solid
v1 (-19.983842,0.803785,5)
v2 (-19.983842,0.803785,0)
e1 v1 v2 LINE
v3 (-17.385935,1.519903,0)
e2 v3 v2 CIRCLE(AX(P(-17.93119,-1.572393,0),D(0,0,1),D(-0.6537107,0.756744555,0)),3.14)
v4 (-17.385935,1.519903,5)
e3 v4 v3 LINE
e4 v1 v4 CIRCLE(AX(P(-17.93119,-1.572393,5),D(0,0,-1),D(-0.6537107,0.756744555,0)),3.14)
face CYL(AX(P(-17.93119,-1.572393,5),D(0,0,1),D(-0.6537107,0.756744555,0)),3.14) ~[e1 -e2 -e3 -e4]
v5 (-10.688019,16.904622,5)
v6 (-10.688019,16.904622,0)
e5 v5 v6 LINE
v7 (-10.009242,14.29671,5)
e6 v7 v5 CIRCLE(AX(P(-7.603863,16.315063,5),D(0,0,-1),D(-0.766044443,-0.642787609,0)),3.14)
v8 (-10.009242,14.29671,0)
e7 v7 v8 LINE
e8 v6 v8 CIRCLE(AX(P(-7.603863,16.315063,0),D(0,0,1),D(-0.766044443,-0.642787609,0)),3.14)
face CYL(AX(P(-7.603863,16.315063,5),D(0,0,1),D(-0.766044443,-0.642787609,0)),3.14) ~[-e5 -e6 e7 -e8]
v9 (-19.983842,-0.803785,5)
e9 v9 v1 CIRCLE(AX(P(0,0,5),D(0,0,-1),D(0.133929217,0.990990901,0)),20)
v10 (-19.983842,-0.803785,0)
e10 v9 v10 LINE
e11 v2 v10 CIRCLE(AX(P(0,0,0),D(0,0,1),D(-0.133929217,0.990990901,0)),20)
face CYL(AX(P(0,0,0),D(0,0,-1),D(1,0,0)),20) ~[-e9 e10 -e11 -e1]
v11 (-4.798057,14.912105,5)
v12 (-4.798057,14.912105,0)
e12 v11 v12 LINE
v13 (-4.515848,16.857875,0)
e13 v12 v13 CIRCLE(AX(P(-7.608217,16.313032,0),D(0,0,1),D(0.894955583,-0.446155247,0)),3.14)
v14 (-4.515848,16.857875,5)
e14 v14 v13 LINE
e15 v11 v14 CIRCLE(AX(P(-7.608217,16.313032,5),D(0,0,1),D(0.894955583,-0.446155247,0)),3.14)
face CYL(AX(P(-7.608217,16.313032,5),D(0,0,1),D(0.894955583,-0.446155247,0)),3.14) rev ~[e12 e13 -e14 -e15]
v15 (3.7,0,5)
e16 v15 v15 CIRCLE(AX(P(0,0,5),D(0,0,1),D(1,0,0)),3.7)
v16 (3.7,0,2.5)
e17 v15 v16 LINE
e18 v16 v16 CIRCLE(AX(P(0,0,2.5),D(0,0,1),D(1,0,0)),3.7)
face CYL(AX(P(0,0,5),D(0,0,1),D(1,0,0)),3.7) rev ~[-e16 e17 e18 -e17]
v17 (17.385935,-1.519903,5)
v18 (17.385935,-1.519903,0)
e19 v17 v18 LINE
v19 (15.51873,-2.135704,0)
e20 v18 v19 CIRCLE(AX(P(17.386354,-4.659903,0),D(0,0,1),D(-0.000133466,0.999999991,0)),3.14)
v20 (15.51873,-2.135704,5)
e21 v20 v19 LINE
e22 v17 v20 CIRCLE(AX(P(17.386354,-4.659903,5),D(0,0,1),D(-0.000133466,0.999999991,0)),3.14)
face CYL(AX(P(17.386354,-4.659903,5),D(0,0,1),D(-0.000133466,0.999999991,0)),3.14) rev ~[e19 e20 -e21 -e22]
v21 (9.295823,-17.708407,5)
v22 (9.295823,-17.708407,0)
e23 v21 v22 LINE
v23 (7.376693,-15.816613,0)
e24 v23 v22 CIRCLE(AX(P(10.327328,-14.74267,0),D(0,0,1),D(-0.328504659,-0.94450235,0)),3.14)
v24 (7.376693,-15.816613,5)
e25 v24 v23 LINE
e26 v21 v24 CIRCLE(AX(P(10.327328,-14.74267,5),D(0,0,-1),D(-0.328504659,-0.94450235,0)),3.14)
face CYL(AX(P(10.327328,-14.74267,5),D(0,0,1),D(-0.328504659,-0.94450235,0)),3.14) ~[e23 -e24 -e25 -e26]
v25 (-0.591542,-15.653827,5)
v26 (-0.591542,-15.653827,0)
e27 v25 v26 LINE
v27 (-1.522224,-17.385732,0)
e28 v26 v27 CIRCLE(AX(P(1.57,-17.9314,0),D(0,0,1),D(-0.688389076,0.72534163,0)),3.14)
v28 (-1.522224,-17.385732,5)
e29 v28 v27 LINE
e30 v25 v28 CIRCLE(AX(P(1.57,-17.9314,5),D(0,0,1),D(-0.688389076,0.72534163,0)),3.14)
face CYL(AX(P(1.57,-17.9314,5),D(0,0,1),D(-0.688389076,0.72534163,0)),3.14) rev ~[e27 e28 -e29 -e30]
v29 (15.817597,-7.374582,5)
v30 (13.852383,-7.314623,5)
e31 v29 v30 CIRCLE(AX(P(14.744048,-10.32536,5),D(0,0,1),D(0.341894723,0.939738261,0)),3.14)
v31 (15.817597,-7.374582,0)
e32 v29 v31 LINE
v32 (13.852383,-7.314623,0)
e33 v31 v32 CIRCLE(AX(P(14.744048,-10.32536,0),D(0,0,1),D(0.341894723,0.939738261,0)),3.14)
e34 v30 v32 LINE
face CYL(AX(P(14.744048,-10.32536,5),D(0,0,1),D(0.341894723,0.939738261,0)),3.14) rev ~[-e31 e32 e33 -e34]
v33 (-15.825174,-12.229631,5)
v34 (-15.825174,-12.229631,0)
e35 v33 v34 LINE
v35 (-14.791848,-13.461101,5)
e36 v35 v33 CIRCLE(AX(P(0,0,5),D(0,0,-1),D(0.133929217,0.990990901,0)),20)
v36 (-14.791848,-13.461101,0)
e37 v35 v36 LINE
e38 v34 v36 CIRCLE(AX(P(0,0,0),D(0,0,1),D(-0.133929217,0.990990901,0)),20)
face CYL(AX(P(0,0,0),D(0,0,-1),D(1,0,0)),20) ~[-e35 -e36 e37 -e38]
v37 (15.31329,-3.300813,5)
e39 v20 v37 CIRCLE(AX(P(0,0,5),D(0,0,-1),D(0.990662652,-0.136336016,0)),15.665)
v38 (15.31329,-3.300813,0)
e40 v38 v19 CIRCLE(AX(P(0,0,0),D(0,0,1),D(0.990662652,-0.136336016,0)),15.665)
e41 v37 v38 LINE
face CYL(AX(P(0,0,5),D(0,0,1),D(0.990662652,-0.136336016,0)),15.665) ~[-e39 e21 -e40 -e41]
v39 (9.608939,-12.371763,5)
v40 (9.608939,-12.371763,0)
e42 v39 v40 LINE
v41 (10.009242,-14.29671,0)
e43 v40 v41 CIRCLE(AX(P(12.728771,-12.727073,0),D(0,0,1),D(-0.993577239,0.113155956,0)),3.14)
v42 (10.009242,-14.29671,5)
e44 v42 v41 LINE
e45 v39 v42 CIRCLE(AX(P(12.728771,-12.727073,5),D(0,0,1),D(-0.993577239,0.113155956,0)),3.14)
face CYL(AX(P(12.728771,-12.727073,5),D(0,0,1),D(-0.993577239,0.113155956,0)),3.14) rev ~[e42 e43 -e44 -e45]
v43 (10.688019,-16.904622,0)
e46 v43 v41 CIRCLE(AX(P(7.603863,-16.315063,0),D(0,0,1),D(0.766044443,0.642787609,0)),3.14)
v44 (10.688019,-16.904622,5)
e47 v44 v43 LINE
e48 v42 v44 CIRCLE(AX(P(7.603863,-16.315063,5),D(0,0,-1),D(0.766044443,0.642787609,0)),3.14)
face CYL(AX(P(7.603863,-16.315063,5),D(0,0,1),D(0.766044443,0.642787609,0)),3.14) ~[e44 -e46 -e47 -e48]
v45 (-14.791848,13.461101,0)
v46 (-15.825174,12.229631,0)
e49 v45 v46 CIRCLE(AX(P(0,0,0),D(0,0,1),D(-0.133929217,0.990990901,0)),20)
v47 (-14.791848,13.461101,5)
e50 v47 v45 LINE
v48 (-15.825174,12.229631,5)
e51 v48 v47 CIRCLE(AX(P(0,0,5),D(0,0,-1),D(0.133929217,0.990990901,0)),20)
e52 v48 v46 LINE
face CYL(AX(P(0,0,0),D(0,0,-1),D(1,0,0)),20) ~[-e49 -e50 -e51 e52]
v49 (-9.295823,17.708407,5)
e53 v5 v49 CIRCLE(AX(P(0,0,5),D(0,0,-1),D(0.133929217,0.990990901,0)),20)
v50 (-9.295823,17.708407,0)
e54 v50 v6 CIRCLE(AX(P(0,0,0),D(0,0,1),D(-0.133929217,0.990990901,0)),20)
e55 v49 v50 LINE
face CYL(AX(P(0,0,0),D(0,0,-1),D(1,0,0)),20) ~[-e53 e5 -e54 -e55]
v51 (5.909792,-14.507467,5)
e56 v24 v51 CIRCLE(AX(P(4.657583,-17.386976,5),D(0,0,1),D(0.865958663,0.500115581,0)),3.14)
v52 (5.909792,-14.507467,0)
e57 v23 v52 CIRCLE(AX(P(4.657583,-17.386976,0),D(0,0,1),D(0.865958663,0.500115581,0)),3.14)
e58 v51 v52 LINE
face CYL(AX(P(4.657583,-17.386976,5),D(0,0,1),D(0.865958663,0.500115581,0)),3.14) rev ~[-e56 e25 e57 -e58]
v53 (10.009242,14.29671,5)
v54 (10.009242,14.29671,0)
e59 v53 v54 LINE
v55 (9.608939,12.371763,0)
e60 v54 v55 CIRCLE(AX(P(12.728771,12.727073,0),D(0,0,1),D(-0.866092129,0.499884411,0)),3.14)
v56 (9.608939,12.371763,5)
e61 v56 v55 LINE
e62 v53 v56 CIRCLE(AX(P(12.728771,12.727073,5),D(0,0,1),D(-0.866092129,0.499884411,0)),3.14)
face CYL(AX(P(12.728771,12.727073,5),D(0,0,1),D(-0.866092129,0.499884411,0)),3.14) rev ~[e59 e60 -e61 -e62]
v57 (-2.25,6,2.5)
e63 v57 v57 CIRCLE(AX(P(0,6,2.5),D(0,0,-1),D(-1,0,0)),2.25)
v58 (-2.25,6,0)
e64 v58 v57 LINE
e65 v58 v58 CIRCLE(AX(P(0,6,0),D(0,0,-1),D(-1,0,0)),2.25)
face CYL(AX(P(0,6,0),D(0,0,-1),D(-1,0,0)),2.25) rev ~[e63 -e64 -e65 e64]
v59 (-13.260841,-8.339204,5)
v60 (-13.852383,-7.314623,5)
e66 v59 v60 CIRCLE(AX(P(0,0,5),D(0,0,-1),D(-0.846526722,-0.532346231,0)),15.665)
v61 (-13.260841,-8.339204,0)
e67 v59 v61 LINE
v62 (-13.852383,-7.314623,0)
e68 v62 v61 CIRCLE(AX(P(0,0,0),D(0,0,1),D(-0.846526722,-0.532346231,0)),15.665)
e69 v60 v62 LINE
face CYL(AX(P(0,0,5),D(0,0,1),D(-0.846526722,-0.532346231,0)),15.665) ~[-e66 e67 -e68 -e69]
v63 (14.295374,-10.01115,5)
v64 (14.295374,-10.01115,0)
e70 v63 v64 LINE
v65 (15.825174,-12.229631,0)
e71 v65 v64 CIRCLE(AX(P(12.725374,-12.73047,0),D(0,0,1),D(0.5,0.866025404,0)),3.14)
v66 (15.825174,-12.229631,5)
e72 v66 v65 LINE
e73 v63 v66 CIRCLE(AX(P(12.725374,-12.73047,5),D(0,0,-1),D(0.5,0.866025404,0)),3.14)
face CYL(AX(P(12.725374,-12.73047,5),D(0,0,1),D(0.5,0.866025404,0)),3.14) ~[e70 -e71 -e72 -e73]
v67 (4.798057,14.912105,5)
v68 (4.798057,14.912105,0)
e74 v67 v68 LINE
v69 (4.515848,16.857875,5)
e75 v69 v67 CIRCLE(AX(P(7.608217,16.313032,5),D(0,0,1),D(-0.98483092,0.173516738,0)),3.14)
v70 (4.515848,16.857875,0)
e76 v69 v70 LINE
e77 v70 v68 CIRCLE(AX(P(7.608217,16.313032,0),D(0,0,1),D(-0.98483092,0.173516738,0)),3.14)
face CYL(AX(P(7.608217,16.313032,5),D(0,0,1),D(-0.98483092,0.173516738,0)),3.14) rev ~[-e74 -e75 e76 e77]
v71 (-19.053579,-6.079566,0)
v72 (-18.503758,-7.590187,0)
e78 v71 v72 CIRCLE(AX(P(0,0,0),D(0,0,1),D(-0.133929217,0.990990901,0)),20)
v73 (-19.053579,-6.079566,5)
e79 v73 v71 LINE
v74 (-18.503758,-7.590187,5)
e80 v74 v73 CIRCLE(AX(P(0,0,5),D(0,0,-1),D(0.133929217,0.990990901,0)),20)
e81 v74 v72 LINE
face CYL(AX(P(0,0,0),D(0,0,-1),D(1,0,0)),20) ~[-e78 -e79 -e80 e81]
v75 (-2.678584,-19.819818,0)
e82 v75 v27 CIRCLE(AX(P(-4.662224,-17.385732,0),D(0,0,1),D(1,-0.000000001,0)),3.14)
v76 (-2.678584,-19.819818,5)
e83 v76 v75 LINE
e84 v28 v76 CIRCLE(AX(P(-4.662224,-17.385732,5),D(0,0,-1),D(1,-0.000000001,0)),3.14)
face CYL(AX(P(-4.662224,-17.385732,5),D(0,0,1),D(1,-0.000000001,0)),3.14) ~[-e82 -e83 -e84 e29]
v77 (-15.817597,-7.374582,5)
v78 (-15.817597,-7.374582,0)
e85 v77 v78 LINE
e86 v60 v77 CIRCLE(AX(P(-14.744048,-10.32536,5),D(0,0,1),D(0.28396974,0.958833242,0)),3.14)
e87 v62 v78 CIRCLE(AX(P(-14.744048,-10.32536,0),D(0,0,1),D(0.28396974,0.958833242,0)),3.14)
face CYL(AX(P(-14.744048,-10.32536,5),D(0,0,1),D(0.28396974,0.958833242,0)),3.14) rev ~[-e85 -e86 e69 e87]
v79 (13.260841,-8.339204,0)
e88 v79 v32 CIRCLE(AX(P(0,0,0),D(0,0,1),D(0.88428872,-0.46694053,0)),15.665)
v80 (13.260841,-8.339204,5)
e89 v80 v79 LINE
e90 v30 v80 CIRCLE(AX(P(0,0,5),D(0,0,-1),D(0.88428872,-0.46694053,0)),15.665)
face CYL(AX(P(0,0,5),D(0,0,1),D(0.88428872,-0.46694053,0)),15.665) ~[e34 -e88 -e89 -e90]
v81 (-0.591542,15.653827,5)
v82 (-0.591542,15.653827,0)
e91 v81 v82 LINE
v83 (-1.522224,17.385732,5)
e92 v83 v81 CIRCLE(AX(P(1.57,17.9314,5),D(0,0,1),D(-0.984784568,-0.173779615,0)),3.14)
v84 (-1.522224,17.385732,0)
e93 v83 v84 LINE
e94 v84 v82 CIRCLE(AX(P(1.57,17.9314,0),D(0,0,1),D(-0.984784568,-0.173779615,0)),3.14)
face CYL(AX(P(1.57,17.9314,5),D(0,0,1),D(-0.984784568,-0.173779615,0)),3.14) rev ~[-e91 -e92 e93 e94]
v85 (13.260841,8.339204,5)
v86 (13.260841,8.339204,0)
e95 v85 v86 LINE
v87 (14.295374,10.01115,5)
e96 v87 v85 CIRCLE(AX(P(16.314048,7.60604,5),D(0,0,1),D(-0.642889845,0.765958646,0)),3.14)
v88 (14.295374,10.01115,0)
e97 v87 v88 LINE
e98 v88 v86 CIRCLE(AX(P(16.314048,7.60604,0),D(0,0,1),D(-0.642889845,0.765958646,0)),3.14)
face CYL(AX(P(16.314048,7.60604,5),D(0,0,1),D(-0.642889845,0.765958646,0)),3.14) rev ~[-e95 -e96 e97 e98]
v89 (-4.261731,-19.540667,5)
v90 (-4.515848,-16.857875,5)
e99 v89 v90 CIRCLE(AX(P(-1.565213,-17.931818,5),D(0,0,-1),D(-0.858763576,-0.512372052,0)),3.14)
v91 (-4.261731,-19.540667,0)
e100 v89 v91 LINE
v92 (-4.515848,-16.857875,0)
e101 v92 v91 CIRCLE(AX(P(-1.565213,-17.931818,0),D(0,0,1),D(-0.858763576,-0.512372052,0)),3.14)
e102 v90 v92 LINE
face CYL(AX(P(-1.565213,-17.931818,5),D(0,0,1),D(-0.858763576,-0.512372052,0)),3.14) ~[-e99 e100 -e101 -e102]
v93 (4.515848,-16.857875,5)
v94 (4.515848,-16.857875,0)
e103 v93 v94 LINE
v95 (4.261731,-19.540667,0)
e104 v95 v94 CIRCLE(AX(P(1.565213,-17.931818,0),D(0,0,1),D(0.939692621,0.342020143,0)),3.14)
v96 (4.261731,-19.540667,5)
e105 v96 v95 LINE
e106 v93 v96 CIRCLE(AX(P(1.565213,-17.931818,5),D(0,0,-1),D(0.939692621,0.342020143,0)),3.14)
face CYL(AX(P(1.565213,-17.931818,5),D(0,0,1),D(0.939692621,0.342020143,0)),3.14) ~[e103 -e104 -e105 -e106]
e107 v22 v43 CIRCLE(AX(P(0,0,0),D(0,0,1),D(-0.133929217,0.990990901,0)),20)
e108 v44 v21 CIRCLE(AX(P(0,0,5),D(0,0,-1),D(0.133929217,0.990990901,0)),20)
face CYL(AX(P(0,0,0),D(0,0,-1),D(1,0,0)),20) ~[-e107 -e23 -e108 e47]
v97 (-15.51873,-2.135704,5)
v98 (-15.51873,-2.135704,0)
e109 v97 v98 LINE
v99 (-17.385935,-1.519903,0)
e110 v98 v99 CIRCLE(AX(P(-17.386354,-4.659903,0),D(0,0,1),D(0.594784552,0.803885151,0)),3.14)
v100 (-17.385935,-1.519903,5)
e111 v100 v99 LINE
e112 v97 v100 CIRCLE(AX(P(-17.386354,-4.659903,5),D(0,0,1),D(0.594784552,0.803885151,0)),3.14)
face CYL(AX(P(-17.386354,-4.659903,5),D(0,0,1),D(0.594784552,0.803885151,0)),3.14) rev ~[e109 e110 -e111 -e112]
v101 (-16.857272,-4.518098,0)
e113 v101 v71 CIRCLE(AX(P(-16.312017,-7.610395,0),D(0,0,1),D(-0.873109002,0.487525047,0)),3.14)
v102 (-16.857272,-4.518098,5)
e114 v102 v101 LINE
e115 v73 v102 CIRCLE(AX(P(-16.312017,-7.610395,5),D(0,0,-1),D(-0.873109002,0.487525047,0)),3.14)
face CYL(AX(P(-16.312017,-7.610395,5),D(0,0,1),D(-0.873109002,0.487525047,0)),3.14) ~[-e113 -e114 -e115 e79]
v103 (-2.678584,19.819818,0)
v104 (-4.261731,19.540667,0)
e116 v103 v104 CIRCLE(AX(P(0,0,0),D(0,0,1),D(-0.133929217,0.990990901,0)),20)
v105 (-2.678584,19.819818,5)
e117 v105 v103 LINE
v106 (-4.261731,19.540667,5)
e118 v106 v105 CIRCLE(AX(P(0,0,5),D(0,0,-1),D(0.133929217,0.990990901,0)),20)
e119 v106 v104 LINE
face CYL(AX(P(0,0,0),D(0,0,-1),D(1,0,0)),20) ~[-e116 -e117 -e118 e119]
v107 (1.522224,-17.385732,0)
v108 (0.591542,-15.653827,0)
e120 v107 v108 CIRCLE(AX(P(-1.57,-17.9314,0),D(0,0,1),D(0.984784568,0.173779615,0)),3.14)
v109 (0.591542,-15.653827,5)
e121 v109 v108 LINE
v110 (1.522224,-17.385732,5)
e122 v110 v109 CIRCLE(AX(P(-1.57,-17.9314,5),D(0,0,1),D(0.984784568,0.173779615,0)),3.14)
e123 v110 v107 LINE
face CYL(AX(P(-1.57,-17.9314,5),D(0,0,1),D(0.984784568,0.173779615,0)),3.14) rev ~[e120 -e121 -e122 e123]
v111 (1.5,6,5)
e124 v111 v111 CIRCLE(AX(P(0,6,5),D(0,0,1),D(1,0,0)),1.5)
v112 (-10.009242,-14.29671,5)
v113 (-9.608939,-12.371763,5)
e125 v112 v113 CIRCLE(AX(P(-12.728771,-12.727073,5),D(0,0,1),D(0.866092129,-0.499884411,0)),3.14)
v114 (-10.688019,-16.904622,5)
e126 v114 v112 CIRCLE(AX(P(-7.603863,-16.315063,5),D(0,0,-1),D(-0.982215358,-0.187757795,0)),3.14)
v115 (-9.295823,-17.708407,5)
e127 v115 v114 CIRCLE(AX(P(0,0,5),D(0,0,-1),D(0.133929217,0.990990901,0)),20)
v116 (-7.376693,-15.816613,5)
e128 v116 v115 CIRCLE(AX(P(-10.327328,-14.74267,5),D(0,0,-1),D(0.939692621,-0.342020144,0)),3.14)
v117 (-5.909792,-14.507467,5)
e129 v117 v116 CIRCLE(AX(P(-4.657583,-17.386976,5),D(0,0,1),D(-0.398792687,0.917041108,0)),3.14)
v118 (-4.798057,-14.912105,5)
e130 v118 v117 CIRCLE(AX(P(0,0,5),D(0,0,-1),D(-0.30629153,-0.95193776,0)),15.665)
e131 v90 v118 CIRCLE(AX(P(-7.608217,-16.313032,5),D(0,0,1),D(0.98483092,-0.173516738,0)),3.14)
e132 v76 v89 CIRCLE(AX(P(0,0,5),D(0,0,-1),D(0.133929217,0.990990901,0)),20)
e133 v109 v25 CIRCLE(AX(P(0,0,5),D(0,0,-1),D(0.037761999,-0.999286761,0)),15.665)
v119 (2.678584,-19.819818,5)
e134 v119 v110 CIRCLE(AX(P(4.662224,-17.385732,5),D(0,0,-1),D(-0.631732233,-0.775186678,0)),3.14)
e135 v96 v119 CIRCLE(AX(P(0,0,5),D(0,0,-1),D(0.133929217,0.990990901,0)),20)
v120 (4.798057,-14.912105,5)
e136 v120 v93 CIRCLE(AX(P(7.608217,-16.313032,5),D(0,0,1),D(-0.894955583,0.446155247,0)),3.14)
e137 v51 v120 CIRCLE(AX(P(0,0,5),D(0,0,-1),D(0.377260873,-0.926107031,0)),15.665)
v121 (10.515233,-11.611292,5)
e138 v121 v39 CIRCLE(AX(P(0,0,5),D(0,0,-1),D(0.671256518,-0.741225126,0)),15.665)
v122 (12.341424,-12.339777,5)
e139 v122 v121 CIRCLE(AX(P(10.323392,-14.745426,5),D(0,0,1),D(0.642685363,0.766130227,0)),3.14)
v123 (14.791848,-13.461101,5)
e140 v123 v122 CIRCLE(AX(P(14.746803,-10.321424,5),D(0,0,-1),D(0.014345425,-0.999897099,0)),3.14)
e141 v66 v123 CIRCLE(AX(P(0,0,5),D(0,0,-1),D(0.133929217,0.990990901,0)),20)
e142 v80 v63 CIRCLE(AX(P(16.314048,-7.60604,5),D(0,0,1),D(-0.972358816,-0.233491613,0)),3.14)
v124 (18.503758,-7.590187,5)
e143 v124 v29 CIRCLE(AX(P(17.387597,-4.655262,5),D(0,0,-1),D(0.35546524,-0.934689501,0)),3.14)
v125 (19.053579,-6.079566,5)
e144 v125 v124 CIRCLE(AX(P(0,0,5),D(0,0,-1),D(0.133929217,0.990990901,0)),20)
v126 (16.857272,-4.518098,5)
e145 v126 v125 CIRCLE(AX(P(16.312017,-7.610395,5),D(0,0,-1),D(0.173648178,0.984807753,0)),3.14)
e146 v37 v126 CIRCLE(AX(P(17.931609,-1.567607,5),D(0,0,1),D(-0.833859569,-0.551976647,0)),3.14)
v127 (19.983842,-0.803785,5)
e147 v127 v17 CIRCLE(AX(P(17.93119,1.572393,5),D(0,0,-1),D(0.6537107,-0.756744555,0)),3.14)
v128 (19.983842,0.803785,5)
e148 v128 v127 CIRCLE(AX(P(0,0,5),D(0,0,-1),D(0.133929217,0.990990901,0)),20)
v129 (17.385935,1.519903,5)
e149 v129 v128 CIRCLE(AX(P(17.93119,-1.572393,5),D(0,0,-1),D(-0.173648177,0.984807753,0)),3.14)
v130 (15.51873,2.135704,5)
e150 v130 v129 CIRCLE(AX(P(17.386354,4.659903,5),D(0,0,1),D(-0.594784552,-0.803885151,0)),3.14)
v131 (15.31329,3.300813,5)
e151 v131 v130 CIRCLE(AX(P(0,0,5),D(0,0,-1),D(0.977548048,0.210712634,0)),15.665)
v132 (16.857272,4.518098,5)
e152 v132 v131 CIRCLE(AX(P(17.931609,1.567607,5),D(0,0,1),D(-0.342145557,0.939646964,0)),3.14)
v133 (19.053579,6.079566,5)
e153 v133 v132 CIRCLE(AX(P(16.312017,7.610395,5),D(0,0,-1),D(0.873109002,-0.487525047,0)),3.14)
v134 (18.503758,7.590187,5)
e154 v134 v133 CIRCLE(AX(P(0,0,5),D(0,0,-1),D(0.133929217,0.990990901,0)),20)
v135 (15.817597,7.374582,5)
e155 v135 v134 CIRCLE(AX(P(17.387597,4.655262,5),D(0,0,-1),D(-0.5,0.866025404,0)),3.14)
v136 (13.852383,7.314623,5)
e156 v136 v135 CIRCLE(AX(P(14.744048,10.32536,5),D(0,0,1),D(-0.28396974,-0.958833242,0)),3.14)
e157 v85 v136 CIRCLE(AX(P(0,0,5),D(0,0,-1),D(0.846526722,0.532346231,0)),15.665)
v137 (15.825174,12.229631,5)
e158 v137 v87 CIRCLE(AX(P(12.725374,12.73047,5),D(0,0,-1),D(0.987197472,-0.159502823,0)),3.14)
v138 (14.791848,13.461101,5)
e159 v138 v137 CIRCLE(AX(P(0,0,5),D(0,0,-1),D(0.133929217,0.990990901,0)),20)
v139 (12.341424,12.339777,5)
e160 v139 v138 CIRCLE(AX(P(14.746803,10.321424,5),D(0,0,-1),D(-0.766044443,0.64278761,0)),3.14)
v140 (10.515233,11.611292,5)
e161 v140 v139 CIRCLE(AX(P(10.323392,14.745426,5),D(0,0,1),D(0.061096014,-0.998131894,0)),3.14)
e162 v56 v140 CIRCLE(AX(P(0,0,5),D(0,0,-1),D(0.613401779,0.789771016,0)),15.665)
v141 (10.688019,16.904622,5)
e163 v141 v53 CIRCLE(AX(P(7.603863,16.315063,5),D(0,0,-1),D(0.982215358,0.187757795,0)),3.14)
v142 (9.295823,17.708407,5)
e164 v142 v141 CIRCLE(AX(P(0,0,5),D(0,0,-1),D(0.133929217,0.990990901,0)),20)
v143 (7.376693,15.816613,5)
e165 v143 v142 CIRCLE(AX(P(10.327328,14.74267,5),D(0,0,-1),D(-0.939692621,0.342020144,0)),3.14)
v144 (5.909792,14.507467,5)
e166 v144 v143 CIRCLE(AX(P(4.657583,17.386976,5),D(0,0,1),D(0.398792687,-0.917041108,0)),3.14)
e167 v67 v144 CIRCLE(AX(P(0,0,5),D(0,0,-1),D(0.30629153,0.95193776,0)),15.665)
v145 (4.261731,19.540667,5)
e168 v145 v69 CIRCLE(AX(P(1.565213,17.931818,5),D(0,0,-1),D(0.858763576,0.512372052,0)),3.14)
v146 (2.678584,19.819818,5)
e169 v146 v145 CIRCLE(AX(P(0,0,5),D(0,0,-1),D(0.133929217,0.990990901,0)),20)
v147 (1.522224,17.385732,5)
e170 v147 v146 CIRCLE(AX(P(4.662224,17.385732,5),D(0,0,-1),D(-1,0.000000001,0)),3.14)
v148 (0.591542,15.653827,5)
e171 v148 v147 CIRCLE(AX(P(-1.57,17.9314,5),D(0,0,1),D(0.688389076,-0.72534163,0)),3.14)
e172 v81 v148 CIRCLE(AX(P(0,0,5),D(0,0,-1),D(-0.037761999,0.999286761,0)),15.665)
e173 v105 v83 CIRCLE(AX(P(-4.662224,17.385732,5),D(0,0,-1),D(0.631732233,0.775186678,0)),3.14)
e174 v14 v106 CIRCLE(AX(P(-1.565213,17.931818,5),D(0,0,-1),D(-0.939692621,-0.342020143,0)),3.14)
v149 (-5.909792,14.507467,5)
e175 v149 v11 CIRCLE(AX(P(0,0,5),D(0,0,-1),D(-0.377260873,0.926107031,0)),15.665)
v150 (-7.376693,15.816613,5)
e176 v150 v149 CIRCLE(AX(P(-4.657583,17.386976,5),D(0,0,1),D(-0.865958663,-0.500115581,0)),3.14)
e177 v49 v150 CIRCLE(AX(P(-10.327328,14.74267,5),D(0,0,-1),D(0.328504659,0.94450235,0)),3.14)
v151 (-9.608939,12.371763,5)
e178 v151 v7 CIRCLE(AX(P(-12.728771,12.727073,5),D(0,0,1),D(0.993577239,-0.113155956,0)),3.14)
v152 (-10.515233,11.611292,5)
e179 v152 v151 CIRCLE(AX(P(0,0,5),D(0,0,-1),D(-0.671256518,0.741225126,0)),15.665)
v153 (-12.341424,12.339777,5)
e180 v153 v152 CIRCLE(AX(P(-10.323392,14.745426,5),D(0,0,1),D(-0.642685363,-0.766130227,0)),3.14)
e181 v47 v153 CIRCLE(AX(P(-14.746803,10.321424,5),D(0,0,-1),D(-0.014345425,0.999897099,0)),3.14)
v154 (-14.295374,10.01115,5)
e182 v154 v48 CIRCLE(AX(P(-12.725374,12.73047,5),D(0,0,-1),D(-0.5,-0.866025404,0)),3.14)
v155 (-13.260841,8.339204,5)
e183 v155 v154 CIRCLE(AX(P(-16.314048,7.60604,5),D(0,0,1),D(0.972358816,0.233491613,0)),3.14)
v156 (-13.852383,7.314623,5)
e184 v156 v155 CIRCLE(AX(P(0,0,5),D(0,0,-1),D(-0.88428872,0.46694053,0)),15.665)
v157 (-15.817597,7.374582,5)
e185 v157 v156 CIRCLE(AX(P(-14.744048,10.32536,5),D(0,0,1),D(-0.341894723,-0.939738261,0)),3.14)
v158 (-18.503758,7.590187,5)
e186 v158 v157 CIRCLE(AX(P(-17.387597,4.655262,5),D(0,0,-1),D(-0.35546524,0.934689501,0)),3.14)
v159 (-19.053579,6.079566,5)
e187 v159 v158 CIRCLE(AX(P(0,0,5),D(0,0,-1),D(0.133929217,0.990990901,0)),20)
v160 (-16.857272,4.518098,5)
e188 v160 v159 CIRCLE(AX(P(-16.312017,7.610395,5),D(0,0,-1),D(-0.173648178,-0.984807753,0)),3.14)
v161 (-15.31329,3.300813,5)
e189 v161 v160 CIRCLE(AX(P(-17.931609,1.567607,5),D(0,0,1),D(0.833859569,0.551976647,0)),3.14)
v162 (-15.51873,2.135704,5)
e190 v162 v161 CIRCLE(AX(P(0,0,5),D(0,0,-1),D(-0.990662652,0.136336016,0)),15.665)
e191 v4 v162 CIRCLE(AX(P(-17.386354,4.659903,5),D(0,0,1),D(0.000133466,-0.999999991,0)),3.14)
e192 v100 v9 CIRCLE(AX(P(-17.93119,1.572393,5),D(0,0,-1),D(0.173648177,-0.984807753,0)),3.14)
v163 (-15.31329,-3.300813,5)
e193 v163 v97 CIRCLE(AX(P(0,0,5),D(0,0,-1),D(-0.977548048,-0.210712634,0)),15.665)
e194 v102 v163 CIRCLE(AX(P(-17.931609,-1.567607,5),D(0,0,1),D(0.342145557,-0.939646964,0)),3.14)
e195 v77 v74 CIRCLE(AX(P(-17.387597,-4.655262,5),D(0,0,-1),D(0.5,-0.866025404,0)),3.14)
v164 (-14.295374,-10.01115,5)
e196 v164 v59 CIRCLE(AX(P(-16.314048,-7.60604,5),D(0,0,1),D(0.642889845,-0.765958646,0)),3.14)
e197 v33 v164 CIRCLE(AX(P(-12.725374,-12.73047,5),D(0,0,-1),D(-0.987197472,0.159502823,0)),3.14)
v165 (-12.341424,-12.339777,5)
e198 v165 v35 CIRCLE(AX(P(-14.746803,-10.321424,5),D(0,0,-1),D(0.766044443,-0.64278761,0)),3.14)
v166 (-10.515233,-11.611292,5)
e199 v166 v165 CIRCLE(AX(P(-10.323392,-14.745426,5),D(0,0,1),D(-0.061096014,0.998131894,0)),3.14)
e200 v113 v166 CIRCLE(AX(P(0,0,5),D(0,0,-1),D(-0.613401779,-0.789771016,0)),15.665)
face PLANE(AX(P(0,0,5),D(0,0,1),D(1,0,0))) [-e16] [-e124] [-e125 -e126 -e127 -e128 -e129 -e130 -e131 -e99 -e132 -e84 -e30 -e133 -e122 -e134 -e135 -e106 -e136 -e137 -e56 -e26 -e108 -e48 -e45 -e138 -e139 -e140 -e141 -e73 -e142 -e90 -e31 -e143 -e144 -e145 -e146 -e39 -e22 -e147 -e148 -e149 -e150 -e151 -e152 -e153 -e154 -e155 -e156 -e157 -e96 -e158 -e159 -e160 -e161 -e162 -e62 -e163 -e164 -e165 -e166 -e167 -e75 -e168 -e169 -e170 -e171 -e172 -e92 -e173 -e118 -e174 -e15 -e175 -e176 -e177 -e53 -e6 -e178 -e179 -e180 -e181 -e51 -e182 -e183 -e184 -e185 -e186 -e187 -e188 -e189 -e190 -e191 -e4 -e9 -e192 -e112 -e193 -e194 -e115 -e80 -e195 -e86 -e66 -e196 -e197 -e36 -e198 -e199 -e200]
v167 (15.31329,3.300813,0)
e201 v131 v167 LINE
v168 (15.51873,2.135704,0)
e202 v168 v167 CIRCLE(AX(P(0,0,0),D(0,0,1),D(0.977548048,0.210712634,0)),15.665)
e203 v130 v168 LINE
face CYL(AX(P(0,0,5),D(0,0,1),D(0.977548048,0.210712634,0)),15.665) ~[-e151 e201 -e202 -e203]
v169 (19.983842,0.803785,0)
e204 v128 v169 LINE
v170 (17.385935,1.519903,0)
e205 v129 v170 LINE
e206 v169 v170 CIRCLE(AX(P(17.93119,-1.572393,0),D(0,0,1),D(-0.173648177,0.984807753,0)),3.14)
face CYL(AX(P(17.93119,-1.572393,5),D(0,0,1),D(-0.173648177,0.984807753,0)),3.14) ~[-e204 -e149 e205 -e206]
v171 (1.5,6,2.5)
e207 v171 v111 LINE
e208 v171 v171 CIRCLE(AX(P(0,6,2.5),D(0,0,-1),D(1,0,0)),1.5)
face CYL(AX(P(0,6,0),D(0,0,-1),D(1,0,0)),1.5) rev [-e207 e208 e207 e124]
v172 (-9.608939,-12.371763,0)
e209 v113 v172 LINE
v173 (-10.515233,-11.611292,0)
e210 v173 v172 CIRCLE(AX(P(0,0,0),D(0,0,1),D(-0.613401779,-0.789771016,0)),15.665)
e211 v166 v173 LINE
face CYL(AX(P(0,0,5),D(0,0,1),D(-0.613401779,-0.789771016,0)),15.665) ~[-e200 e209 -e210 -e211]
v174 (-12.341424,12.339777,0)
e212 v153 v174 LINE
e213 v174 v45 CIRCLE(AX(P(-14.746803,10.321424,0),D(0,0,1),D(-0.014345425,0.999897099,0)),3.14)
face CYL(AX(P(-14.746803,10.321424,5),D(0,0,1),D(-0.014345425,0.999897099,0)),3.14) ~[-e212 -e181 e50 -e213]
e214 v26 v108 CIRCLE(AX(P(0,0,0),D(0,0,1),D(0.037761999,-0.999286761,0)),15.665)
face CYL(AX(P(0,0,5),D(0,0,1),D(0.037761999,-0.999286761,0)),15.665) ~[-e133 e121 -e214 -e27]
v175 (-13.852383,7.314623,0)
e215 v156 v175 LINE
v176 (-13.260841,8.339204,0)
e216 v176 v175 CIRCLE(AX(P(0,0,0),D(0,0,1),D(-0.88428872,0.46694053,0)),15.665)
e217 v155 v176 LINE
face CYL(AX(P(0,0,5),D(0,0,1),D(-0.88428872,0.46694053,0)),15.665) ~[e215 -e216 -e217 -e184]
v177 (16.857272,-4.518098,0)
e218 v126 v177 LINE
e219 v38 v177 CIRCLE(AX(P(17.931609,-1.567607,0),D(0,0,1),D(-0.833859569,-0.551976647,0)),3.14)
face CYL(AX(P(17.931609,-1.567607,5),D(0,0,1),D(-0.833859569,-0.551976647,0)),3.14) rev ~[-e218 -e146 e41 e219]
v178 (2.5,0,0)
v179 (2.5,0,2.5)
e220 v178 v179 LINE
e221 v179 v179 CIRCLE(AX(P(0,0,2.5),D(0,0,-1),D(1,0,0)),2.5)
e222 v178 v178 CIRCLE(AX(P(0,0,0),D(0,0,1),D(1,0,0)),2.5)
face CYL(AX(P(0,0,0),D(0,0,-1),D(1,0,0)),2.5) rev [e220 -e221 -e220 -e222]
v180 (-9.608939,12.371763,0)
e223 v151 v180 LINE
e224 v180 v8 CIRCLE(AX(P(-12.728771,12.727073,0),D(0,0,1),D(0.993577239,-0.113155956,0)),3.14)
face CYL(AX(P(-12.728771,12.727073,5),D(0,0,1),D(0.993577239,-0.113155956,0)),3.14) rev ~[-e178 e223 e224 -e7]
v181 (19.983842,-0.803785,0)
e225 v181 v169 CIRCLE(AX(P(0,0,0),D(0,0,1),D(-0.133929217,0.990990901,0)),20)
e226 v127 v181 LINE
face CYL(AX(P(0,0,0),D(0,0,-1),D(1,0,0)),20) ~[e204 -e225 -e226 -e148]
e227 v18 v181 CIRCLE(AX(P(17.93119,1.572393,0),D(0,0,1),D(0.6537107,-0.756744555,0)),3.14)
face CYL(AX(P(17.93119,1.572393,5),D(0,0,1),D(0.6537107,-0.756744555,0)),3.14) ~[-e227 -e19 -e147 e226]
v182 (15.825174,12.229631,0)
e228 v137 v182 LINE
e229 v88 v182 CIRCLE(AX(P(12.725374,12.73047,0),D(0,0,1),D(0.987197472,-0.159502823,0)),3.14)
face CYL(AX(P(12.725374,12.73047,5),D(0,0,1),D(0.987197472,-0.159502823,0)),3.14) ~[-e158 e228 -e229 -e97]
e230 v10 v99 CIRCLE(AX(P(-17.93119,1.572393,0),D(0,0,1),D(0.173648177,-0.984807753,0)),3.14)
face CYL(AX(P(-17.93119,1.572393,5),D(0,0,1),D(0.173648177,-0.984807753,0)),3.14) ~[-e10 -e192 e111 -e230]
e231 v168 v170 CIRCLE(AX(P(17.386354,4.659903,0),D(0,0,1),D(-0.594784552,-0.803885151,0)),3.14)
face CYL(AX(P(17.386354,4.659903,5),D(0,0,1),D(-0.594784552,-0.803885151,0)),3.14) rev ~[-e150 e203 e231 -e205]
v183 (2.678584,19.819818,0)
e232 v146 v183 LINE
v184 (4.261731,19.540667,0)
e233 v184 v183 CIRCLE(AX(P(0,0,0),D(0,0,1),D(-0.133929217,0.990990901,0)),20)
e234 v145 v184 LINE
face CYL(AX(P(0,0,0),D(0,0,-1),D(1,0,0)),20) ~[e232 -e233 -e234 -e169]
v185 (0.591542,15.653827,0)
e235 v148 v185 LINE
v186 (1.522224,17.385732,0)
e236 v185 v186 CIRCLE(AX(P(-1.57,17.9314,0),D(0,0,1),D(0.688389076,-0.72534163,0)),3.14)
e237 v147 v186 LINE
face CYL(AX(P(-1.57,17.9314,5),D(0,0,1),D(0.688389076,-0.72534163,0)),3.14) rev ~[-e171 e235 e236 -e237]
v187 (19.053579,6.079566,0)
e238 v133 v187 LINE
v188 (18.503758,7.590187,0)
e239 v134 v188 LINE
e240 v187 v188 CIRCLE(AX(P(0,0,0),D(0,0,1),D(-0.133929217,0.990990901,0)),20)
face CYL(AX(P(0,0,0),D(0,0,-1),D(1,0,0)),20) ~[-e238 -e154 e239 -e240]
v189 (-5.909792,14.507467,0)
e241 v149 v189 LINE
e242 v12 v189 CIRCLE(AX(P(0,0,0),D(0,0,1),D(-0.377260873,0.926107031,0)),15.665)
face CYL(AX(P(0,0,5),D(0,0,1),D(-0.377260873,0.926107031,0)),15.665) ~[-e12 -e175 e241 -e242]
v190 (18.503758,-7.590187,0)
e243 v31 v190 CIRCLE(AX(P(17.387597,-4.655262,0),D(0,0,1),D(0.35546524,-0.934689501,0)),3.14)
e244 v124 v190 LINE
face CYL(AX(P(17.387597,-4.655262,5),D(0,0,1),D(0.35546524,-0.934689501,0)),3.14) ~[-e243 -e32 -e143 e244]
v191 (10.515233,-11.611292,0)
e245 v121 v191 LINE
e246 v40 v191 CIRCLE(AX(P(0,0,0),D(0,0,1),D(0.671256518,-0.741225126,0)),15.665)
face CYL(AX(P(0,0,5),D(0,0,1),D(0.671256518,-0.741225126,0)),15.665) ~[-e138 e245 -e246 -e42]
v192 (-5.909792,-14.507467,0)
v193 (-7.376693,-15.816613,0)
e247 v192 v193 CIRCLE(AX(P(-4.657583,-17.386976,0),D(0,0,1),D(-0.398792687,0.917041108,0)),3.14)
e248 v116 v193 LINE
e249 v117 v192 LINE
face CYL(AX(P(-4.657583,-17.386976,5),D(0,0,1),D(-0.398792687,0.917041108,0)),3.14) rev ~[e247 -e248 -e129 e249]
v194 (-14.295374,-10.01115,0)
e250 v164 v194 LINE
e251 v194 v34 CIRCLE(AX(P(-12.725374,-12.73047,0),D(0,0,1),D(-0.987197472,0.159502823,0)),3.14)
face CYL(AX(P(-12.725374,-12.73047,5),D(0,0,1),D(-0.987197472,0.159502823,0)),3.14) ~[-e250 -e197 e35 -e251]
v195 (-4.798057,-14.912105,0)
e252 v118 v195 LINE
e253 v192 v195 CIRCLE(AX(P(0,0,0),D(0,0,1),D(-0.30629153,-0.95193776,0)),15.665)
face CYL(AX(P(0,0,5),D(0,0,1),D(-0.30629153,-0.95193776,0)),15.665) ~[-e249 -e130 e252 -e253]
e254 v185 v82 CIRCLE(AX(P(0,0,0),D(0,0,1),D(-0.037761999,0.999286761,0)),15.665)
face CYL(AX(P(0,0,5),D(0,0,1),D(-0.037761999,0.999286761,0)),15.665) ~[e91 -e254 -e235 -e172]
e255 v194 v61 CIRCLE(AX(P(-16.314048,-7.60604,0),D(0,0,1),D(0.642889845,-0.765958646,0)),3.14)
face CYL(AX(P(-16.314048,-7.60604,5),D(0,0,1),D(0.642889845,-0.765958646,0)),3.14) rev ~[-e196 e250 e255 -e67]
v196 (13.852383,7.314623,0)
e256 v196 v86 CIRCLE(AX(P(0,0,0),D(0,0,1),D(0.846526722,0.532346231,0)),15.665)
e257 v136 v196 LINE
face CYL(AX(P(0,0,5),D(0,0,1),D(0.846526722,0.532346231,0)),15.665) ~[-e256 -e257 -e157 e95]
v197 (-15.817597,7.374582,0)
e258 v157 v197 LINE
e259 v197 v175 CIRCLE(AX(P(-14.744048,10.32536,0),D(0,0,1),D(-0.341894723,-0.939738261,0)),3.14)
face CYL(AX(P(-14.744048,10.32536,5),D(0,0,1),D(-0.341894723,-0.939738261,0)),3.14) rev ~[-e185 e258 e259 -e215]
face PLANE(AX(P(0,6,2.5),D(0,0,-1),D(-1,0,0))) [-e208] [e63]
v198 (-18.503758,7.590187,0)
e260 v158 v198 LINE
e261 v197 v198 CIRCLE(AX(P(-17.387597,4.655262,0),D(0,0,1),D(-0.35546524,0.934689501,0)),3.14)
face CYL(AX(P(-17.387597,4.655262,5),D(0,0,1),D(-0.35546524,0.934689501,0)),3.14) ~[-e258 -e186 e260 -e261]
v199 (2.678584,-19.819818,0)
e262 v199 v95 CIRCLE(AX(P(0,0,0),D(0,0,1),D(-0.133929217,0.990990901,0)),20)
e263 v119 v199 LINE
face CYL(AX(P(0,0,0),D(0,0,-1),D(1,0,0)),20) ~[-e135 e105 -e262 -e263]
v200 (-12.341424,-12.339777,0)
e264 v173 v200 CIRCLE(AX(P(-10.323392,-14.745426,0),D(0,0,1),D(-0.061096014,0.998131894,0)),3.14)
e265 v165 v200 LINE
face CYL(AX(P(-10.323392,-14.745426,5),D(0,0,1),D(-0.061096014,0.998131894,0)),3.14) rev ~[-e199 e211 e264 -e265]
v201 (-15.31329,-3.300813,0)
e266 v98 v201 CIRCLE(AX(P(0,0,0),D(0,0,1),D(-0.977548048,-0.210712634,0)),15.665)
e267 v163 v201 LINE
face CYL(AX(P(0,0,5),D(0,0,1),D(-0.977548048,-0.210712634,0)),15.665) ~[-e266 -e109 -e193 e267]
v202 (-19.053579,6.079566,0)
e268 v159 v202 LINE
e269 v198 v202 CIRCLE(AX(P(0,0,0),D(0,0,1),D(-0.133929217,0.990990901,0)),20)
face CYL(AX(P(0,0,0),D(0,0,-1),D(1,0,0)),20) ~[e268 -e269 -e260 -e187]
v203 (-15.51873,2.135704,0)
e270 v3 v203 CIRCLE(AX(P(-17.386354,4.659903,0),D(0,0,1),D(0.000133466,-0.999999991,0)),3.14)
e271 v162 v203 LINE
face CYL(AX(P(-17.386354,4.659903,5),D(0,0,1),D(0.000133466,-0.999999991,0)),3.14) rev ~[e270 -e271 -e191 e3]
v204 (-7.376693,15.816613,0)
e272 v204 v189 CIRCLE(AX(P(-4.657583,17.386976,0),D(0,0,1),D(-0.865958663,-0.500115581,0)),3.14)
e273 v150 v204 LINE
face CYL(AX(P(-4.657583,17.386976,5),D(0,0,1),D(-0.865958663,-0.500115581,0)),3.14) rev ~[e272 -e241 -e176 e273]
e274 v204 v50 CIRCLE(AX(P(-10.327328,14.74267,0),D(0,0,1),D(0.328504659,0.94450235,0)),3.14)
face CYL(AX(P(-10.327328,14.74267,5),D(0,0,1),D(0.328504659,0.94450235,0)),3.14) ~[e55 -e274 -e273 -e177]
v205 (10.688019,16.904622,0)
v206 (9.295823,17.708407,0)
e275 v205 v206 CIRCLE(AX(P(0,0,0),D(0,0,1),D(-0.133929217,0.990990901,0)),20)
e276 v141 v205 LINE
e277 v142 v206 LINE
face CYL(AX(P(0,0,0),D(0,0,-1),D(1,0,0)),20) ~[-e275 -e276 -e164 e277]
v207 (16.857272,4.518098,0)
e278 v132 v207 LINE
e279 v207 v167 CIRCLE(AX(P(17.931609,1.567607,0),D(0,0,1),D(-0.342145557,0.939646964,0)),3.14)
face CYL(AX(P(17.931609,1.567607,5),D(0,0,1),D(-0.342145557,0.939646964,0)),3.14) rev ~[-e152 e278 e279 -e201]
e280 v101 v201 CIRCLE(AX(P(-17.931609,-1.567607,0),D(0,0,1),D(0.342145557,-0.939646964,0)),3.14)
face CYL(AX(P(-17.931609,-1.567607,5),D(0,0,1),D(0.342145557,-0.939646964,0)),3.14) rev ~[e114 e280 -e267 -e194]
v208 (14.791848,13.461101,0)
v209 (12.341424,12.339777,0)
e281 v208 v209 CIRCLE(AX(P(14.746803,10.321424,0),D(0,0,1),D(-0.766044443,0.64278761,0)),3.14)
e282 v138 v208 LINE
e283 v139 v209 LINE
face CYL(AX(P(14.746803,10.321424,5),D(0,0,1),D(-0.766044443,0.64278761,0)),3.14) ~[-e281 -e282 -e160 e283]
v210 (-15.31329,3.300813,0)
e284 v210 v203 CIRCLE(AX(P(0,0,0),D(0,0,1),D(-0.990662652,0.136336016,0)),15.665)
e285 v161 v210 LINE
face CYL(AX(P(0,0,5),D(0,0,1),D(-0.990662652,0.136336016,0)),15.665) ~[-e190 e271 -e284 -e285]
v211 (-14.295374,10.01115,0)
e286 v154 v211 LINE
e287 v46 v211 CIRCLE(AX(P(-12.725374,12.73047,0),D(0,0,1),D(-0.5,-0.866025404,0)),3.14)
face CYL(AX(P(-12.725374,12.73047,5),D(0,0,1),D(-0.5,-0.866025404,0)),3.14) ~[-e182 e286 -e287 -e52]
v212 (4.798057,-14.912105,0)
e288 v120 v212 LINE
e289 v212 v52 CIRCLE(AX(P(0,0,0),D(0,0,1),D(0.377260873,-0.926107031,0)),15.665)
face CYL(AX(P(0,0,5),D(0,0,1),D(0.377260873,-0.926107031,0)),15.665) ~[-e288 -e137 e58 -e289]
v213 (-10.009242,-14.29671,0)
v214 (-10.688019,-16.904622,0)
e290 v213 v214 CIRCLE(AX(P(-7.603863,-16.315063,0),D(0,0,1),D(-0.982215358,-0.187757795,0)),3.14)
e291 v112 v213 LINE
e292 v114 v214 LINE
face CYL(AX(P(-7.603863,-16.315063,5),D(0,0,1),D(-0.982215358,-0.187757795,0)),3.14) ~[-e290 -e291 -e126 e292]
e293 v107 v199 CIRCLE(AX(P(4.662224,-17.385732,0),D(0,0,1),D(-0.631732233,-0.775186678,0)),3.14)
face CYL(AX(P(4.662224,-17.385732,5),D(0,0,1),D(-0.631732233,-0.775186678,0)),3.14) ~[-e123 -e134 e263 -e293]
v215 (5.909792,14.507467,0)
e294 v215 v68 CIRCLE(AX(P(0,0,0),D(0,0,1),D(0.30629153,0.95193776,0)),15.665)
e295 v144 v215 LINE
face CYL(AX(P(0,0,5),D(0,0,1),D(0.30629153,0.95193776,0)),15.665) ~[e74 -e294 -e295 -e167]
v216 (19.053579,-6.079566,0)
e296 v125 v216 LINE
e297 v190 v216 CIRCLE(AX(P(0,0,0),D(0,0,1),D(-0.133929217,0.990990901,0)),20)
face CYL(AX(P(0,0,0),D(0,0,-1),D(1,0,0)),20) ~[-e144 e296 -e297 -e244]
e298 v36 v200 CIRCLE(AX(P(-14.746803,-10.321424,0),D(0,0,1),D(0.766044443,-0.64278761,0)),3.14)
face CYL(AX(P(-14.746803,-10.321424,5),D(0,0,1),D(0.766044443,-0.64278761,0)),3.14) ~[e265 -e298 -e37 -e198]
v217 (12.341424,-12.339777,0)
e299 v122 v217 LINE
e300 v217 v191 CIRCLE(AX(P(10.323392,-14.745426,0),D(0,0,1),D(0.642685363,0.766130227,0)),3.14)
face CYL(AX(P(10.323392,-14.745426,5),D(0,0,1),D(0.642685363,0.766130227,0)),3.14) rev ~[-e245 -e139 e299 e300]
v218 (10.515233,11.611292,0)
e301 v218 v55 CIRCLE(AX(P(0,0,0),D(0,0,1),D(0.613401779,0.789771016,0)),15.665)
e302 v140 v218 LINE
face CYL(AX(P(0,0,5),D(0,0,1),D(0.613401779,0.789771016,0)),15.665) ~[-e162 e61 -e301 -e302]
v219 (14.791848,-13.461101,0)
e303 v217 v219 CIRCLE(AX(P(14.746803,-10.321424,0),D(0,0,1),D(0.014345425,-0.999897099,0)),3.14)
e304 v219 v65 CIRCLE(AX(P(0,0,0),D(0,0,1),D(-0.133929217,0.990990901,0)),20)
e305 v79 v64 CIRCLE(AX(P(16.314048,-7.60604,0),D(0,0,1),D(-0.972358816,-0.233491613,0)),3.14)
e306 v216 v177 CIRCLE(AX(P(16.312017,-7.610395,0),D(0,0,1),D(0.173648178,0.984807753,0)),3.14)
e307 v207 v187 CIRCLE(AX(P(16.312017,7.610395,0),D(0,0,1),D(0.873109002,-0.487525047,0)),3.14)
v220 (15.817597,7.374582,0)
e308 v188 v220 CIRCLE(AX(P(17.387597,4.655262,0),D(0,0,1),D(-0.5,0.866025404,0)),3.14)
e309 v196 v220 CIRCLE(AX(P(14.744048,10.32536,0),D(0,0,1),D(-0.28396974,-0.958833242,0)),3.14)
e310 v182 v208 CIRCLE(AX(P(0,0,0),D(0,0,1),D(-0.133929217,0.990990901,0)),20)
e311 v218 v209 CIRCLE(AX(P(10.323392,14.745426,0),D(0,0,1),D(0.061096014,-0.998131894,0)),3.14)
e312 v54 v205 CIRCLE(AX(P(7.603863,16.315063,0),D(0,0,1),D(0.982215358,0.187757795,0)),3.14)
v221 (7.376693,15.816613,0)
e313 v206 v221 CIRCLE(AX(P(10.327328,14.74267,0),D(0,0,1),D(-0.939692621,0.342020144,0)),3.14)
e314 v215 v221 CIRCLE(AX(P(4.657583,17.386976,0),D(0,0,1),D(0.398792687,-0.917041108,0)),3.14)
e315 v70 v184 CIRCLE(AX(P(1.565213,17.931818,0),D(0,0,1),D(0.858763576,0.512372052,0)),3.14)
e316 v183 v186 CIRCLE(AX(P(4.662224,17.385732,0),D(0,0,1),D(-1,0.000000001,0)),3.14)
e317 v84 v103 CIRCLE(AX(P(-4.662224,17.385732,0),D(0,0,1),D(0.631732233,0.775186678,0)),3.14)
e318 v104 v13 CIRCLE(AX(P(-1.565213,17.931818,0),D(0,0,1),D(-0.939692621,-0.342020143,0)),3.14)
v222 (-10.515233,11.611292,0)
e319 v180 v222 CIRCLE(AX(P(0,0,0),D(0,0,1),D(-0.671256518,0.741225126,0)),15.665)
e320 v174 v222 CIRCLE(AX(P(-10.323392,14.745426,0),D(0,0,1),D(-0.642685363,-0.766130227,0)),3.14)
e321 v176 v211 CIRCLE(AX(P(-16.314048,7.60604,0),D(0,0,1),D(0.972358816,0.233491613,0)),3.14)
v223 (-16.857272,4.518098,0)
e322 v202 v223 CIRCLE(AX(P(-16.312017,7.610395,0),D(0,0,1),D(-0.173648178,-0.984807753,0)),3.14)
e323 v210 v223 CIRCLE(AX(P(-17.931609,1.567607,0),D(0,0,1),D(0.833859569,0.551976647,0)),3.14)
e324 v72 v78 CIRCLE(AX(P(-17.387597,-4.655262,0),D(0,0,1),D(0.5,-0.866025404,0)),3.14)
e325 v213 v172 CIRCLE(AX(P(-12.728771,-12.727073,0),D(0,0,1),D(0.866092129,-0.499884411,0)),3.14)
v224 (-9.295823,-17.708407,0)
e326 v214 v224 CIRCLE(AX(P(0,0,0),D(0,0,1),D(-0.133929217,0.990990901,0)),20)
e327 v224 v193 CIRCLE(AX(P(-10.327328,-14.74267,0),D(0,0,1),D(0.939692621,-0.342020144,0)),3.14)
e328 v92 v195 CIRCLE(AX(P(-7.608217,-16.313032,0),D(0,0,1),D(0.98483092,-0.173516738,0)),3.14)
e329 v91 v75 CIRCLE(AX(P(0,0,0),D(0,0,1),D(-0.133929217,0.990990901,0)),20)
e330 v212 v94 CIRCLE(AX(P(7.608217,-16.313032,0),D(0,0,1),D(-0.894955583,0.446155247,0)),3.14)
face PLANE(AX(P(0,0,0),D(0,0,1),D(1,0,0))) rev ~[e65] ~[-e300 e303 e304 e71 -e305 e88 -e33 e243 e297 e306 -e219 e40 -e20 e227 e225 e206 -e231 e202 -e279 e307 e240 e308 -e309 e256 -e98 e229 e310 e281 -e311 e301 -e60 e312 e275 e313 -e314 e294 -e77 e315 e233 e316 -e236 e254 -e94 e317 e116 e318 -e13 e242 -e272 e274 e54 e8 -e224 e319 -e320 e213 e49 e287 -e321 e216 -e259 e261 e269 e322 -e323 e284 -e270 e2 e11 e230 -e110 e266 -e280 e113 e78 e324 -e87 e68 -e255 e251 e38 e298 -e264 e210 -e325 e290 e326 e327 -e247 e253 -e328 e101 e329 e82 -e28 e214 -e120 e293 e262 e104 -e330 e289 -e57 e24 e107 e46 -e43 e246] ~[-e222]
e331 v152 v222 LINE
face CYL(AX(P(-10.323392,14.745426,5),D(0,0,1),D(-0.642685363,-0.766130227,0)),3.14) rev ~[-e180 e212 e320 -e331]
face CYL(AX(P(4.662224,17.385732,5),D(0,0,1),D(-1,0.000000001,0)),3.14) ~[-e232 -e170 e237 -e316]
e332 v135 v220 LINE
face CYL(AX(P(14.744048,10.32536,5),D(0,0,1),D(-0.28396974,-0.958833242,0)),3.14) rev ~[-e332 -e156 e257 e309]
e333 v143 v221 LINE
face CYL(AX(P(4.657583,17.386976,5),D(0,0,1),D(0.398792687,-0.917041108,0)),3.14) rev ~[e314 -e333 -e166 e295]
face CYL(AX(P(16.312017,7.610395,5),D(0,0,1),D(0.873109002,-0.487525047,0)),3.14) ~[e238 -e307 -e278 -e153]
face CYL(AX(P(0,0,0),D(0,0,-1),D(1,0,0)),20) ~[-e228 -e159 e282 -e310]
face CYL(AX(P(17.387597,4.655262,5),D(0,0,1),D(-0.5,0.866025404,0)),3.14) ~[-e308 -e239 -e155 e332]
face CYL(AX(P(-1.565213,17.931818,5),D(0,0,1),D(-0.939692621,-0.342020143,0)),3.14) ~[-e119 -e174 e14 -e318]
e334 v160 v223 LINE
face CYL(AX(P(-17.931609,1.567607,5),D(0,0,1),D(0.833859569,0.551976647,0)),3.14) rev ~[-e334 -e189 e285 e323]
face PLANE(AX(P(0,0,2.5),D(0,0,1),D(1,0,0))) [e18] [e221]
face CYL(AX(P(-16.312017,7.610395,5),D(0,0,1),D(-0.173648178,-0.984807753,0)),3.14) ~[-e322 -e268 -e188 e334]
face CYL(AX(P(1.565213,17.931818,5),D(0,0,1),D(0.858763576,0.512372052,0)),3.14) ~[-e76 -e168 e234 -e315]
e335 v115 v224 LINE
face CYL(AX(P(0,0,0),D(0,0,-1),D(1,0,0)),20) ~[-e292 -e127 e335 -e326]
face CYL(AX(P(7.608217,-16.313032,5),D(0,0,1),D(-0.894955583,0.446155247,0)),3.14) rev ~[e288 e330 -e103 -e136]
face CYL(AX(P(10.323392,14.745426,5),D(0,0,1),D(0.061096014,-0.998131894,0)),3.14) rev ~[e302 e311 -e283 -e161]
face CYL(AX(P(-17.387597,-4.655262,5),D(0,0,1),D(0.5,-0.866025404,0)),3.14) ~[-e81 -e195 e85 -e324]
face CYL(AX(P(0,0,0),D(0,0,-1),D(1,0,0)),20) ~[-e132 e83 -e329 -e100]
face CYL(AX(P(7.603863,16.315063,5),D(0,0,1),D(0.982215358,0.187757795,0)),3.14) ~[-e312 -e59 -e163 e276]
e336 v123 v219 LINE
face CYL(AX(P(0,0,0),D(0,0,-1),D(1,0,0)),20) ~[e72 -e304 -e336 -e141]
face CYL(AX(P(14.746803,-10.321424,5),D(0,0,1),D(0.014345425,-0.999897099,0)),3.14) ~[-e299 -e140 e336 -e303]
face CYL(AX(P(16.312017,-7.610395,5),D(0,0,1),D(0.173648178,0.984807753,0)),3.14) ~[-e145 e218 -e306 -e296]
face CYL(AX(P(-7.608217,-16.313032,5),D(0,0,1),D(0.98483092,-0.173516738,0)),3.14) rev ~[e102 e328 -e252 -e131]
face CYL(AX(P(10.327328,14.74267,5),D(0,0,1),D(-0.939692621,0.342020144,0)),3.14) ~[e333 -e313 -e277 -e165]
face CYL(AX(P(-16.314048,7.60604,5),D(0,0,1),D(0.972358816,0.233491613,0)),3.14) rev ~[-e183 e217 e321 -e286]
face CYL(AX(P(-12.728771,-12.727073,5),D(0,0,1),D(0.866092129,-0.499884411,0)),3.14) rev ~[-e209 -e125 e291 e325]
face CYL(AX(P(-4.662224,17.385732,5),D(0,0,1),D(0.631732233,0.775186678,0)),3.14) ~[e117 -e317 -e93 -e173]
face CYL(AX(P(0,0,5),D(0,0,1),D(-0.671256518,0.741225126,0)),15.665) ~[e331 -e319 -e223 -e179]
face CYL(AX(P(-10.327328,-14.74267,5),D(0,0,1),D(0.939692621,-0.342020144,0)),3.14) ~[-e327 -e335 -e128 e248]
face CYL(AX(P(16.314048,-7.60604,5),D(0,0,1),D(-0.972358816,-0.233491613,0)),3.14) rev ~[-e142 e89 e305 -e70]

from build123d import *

# Parameters (mm, degrees)
CROQUIS1_R              = 20
CROQUIS1_R_2            = 2.5
CROQUIS1_R_3            = 1.5
SALIENTE_EXTRUIR1_DEPTH = 5
CORTAR_EXTRUIR1_DEPTH   = 29.722813233
MATRIZC1_COUNT          = 18
CROQUIS3_R              = 3.7
CORTAR_EXTRUIR2_DEPTH   = 2.5
CROQUIS4_R              = 2.25
CORTAR_EXTRUIR3_DEPTH   = 2.5


with BuildPart() as part:
    # Croquis1 → Saliente-Extruir1 (new body)
    with BuildSketch(Plane.XY):
        Circle(CROQUIS1_R)
        Circle(CROQUIS1_R_2, mode=Mode.SUBTRACT)
        with Locations((0, 6)):
            Circle(CROQUIS1_R_3, mode=Mode.SUBTRACT)
    extrude(amount=SALIENTE_EXTRUIR1_DEPTH)

    # Croquis2 → Cortar-Extruir1 (cut, through all)
    with BuildSketch(Plane.XY.offset(5)):
        with BuildLine():
            ThreePointArc((2.678584333, 19.819818011), (0, 20), (-2.678584333, 19.819818011))
            ThreePointArc((-2.678584333, 19.819818011), (-1.82600889, 18.733131722), (-1.522223543, 17.385731841))
            ThreePointArc((-1.522223543, 17.385731841), (-1.19593308, 16.445057276), (-0.5915417, 15.653827117))
            ThreePointArc((-0.5915417, 15.653827117), (0, 15.665), (0.5915417, 15.653827117))
            ThreePointArc((0.5915417, 15.653827117), (1.19593308, 16.445057276), (1.522223543, 17.385731841))
            ThreePointArc((1.522223543, 17.385731841), (1.82600889, 18.733131722), (2.678584333, 19.819818011))
        make_face()
    cortar_extruir1 = extrude(amount=-CORTAR_EXTRUIR1_DEPTH, mode=Mode.SUBTRACT)

    # MatrizC1: Cortar-Extruir1 ×18 about axis
    matrizc1_axis = Axis((0, 0, 0), (0, 0, 1))
    for i in range(1, MATRIZC1_COUNT):
        add(cortar_extruir1.rotate(matrizc1_axis, i * 360 / MATRIZC1_COUNT), mode=Mode.SUBTRACT)

    # Croquis3 → Cortar-Extruir2 (cut)
    with BuildSketch(Plane.XY.offset(5)):
        Circle(CROQUIS3_R)
    extrude(amount=-CORTAR_EXTRUIR2_DEPTH, mode=Mode.SUBTRACT)

    # Croquis4 → Cortar-Extruir3 (cut)
    with BuildSketch(Plane(origin=(0, 0, 0), x_dir=(-1, 0, 0), z_dir=(0, 0, -1))):
        with Locations((0, 6)):
            Circle(CROQUIS4_R)
    extrude(amount=-CORTAR_EXTRUIR3_DEPTH, mode=Mode.SUBTRACT)


solid = part.part
